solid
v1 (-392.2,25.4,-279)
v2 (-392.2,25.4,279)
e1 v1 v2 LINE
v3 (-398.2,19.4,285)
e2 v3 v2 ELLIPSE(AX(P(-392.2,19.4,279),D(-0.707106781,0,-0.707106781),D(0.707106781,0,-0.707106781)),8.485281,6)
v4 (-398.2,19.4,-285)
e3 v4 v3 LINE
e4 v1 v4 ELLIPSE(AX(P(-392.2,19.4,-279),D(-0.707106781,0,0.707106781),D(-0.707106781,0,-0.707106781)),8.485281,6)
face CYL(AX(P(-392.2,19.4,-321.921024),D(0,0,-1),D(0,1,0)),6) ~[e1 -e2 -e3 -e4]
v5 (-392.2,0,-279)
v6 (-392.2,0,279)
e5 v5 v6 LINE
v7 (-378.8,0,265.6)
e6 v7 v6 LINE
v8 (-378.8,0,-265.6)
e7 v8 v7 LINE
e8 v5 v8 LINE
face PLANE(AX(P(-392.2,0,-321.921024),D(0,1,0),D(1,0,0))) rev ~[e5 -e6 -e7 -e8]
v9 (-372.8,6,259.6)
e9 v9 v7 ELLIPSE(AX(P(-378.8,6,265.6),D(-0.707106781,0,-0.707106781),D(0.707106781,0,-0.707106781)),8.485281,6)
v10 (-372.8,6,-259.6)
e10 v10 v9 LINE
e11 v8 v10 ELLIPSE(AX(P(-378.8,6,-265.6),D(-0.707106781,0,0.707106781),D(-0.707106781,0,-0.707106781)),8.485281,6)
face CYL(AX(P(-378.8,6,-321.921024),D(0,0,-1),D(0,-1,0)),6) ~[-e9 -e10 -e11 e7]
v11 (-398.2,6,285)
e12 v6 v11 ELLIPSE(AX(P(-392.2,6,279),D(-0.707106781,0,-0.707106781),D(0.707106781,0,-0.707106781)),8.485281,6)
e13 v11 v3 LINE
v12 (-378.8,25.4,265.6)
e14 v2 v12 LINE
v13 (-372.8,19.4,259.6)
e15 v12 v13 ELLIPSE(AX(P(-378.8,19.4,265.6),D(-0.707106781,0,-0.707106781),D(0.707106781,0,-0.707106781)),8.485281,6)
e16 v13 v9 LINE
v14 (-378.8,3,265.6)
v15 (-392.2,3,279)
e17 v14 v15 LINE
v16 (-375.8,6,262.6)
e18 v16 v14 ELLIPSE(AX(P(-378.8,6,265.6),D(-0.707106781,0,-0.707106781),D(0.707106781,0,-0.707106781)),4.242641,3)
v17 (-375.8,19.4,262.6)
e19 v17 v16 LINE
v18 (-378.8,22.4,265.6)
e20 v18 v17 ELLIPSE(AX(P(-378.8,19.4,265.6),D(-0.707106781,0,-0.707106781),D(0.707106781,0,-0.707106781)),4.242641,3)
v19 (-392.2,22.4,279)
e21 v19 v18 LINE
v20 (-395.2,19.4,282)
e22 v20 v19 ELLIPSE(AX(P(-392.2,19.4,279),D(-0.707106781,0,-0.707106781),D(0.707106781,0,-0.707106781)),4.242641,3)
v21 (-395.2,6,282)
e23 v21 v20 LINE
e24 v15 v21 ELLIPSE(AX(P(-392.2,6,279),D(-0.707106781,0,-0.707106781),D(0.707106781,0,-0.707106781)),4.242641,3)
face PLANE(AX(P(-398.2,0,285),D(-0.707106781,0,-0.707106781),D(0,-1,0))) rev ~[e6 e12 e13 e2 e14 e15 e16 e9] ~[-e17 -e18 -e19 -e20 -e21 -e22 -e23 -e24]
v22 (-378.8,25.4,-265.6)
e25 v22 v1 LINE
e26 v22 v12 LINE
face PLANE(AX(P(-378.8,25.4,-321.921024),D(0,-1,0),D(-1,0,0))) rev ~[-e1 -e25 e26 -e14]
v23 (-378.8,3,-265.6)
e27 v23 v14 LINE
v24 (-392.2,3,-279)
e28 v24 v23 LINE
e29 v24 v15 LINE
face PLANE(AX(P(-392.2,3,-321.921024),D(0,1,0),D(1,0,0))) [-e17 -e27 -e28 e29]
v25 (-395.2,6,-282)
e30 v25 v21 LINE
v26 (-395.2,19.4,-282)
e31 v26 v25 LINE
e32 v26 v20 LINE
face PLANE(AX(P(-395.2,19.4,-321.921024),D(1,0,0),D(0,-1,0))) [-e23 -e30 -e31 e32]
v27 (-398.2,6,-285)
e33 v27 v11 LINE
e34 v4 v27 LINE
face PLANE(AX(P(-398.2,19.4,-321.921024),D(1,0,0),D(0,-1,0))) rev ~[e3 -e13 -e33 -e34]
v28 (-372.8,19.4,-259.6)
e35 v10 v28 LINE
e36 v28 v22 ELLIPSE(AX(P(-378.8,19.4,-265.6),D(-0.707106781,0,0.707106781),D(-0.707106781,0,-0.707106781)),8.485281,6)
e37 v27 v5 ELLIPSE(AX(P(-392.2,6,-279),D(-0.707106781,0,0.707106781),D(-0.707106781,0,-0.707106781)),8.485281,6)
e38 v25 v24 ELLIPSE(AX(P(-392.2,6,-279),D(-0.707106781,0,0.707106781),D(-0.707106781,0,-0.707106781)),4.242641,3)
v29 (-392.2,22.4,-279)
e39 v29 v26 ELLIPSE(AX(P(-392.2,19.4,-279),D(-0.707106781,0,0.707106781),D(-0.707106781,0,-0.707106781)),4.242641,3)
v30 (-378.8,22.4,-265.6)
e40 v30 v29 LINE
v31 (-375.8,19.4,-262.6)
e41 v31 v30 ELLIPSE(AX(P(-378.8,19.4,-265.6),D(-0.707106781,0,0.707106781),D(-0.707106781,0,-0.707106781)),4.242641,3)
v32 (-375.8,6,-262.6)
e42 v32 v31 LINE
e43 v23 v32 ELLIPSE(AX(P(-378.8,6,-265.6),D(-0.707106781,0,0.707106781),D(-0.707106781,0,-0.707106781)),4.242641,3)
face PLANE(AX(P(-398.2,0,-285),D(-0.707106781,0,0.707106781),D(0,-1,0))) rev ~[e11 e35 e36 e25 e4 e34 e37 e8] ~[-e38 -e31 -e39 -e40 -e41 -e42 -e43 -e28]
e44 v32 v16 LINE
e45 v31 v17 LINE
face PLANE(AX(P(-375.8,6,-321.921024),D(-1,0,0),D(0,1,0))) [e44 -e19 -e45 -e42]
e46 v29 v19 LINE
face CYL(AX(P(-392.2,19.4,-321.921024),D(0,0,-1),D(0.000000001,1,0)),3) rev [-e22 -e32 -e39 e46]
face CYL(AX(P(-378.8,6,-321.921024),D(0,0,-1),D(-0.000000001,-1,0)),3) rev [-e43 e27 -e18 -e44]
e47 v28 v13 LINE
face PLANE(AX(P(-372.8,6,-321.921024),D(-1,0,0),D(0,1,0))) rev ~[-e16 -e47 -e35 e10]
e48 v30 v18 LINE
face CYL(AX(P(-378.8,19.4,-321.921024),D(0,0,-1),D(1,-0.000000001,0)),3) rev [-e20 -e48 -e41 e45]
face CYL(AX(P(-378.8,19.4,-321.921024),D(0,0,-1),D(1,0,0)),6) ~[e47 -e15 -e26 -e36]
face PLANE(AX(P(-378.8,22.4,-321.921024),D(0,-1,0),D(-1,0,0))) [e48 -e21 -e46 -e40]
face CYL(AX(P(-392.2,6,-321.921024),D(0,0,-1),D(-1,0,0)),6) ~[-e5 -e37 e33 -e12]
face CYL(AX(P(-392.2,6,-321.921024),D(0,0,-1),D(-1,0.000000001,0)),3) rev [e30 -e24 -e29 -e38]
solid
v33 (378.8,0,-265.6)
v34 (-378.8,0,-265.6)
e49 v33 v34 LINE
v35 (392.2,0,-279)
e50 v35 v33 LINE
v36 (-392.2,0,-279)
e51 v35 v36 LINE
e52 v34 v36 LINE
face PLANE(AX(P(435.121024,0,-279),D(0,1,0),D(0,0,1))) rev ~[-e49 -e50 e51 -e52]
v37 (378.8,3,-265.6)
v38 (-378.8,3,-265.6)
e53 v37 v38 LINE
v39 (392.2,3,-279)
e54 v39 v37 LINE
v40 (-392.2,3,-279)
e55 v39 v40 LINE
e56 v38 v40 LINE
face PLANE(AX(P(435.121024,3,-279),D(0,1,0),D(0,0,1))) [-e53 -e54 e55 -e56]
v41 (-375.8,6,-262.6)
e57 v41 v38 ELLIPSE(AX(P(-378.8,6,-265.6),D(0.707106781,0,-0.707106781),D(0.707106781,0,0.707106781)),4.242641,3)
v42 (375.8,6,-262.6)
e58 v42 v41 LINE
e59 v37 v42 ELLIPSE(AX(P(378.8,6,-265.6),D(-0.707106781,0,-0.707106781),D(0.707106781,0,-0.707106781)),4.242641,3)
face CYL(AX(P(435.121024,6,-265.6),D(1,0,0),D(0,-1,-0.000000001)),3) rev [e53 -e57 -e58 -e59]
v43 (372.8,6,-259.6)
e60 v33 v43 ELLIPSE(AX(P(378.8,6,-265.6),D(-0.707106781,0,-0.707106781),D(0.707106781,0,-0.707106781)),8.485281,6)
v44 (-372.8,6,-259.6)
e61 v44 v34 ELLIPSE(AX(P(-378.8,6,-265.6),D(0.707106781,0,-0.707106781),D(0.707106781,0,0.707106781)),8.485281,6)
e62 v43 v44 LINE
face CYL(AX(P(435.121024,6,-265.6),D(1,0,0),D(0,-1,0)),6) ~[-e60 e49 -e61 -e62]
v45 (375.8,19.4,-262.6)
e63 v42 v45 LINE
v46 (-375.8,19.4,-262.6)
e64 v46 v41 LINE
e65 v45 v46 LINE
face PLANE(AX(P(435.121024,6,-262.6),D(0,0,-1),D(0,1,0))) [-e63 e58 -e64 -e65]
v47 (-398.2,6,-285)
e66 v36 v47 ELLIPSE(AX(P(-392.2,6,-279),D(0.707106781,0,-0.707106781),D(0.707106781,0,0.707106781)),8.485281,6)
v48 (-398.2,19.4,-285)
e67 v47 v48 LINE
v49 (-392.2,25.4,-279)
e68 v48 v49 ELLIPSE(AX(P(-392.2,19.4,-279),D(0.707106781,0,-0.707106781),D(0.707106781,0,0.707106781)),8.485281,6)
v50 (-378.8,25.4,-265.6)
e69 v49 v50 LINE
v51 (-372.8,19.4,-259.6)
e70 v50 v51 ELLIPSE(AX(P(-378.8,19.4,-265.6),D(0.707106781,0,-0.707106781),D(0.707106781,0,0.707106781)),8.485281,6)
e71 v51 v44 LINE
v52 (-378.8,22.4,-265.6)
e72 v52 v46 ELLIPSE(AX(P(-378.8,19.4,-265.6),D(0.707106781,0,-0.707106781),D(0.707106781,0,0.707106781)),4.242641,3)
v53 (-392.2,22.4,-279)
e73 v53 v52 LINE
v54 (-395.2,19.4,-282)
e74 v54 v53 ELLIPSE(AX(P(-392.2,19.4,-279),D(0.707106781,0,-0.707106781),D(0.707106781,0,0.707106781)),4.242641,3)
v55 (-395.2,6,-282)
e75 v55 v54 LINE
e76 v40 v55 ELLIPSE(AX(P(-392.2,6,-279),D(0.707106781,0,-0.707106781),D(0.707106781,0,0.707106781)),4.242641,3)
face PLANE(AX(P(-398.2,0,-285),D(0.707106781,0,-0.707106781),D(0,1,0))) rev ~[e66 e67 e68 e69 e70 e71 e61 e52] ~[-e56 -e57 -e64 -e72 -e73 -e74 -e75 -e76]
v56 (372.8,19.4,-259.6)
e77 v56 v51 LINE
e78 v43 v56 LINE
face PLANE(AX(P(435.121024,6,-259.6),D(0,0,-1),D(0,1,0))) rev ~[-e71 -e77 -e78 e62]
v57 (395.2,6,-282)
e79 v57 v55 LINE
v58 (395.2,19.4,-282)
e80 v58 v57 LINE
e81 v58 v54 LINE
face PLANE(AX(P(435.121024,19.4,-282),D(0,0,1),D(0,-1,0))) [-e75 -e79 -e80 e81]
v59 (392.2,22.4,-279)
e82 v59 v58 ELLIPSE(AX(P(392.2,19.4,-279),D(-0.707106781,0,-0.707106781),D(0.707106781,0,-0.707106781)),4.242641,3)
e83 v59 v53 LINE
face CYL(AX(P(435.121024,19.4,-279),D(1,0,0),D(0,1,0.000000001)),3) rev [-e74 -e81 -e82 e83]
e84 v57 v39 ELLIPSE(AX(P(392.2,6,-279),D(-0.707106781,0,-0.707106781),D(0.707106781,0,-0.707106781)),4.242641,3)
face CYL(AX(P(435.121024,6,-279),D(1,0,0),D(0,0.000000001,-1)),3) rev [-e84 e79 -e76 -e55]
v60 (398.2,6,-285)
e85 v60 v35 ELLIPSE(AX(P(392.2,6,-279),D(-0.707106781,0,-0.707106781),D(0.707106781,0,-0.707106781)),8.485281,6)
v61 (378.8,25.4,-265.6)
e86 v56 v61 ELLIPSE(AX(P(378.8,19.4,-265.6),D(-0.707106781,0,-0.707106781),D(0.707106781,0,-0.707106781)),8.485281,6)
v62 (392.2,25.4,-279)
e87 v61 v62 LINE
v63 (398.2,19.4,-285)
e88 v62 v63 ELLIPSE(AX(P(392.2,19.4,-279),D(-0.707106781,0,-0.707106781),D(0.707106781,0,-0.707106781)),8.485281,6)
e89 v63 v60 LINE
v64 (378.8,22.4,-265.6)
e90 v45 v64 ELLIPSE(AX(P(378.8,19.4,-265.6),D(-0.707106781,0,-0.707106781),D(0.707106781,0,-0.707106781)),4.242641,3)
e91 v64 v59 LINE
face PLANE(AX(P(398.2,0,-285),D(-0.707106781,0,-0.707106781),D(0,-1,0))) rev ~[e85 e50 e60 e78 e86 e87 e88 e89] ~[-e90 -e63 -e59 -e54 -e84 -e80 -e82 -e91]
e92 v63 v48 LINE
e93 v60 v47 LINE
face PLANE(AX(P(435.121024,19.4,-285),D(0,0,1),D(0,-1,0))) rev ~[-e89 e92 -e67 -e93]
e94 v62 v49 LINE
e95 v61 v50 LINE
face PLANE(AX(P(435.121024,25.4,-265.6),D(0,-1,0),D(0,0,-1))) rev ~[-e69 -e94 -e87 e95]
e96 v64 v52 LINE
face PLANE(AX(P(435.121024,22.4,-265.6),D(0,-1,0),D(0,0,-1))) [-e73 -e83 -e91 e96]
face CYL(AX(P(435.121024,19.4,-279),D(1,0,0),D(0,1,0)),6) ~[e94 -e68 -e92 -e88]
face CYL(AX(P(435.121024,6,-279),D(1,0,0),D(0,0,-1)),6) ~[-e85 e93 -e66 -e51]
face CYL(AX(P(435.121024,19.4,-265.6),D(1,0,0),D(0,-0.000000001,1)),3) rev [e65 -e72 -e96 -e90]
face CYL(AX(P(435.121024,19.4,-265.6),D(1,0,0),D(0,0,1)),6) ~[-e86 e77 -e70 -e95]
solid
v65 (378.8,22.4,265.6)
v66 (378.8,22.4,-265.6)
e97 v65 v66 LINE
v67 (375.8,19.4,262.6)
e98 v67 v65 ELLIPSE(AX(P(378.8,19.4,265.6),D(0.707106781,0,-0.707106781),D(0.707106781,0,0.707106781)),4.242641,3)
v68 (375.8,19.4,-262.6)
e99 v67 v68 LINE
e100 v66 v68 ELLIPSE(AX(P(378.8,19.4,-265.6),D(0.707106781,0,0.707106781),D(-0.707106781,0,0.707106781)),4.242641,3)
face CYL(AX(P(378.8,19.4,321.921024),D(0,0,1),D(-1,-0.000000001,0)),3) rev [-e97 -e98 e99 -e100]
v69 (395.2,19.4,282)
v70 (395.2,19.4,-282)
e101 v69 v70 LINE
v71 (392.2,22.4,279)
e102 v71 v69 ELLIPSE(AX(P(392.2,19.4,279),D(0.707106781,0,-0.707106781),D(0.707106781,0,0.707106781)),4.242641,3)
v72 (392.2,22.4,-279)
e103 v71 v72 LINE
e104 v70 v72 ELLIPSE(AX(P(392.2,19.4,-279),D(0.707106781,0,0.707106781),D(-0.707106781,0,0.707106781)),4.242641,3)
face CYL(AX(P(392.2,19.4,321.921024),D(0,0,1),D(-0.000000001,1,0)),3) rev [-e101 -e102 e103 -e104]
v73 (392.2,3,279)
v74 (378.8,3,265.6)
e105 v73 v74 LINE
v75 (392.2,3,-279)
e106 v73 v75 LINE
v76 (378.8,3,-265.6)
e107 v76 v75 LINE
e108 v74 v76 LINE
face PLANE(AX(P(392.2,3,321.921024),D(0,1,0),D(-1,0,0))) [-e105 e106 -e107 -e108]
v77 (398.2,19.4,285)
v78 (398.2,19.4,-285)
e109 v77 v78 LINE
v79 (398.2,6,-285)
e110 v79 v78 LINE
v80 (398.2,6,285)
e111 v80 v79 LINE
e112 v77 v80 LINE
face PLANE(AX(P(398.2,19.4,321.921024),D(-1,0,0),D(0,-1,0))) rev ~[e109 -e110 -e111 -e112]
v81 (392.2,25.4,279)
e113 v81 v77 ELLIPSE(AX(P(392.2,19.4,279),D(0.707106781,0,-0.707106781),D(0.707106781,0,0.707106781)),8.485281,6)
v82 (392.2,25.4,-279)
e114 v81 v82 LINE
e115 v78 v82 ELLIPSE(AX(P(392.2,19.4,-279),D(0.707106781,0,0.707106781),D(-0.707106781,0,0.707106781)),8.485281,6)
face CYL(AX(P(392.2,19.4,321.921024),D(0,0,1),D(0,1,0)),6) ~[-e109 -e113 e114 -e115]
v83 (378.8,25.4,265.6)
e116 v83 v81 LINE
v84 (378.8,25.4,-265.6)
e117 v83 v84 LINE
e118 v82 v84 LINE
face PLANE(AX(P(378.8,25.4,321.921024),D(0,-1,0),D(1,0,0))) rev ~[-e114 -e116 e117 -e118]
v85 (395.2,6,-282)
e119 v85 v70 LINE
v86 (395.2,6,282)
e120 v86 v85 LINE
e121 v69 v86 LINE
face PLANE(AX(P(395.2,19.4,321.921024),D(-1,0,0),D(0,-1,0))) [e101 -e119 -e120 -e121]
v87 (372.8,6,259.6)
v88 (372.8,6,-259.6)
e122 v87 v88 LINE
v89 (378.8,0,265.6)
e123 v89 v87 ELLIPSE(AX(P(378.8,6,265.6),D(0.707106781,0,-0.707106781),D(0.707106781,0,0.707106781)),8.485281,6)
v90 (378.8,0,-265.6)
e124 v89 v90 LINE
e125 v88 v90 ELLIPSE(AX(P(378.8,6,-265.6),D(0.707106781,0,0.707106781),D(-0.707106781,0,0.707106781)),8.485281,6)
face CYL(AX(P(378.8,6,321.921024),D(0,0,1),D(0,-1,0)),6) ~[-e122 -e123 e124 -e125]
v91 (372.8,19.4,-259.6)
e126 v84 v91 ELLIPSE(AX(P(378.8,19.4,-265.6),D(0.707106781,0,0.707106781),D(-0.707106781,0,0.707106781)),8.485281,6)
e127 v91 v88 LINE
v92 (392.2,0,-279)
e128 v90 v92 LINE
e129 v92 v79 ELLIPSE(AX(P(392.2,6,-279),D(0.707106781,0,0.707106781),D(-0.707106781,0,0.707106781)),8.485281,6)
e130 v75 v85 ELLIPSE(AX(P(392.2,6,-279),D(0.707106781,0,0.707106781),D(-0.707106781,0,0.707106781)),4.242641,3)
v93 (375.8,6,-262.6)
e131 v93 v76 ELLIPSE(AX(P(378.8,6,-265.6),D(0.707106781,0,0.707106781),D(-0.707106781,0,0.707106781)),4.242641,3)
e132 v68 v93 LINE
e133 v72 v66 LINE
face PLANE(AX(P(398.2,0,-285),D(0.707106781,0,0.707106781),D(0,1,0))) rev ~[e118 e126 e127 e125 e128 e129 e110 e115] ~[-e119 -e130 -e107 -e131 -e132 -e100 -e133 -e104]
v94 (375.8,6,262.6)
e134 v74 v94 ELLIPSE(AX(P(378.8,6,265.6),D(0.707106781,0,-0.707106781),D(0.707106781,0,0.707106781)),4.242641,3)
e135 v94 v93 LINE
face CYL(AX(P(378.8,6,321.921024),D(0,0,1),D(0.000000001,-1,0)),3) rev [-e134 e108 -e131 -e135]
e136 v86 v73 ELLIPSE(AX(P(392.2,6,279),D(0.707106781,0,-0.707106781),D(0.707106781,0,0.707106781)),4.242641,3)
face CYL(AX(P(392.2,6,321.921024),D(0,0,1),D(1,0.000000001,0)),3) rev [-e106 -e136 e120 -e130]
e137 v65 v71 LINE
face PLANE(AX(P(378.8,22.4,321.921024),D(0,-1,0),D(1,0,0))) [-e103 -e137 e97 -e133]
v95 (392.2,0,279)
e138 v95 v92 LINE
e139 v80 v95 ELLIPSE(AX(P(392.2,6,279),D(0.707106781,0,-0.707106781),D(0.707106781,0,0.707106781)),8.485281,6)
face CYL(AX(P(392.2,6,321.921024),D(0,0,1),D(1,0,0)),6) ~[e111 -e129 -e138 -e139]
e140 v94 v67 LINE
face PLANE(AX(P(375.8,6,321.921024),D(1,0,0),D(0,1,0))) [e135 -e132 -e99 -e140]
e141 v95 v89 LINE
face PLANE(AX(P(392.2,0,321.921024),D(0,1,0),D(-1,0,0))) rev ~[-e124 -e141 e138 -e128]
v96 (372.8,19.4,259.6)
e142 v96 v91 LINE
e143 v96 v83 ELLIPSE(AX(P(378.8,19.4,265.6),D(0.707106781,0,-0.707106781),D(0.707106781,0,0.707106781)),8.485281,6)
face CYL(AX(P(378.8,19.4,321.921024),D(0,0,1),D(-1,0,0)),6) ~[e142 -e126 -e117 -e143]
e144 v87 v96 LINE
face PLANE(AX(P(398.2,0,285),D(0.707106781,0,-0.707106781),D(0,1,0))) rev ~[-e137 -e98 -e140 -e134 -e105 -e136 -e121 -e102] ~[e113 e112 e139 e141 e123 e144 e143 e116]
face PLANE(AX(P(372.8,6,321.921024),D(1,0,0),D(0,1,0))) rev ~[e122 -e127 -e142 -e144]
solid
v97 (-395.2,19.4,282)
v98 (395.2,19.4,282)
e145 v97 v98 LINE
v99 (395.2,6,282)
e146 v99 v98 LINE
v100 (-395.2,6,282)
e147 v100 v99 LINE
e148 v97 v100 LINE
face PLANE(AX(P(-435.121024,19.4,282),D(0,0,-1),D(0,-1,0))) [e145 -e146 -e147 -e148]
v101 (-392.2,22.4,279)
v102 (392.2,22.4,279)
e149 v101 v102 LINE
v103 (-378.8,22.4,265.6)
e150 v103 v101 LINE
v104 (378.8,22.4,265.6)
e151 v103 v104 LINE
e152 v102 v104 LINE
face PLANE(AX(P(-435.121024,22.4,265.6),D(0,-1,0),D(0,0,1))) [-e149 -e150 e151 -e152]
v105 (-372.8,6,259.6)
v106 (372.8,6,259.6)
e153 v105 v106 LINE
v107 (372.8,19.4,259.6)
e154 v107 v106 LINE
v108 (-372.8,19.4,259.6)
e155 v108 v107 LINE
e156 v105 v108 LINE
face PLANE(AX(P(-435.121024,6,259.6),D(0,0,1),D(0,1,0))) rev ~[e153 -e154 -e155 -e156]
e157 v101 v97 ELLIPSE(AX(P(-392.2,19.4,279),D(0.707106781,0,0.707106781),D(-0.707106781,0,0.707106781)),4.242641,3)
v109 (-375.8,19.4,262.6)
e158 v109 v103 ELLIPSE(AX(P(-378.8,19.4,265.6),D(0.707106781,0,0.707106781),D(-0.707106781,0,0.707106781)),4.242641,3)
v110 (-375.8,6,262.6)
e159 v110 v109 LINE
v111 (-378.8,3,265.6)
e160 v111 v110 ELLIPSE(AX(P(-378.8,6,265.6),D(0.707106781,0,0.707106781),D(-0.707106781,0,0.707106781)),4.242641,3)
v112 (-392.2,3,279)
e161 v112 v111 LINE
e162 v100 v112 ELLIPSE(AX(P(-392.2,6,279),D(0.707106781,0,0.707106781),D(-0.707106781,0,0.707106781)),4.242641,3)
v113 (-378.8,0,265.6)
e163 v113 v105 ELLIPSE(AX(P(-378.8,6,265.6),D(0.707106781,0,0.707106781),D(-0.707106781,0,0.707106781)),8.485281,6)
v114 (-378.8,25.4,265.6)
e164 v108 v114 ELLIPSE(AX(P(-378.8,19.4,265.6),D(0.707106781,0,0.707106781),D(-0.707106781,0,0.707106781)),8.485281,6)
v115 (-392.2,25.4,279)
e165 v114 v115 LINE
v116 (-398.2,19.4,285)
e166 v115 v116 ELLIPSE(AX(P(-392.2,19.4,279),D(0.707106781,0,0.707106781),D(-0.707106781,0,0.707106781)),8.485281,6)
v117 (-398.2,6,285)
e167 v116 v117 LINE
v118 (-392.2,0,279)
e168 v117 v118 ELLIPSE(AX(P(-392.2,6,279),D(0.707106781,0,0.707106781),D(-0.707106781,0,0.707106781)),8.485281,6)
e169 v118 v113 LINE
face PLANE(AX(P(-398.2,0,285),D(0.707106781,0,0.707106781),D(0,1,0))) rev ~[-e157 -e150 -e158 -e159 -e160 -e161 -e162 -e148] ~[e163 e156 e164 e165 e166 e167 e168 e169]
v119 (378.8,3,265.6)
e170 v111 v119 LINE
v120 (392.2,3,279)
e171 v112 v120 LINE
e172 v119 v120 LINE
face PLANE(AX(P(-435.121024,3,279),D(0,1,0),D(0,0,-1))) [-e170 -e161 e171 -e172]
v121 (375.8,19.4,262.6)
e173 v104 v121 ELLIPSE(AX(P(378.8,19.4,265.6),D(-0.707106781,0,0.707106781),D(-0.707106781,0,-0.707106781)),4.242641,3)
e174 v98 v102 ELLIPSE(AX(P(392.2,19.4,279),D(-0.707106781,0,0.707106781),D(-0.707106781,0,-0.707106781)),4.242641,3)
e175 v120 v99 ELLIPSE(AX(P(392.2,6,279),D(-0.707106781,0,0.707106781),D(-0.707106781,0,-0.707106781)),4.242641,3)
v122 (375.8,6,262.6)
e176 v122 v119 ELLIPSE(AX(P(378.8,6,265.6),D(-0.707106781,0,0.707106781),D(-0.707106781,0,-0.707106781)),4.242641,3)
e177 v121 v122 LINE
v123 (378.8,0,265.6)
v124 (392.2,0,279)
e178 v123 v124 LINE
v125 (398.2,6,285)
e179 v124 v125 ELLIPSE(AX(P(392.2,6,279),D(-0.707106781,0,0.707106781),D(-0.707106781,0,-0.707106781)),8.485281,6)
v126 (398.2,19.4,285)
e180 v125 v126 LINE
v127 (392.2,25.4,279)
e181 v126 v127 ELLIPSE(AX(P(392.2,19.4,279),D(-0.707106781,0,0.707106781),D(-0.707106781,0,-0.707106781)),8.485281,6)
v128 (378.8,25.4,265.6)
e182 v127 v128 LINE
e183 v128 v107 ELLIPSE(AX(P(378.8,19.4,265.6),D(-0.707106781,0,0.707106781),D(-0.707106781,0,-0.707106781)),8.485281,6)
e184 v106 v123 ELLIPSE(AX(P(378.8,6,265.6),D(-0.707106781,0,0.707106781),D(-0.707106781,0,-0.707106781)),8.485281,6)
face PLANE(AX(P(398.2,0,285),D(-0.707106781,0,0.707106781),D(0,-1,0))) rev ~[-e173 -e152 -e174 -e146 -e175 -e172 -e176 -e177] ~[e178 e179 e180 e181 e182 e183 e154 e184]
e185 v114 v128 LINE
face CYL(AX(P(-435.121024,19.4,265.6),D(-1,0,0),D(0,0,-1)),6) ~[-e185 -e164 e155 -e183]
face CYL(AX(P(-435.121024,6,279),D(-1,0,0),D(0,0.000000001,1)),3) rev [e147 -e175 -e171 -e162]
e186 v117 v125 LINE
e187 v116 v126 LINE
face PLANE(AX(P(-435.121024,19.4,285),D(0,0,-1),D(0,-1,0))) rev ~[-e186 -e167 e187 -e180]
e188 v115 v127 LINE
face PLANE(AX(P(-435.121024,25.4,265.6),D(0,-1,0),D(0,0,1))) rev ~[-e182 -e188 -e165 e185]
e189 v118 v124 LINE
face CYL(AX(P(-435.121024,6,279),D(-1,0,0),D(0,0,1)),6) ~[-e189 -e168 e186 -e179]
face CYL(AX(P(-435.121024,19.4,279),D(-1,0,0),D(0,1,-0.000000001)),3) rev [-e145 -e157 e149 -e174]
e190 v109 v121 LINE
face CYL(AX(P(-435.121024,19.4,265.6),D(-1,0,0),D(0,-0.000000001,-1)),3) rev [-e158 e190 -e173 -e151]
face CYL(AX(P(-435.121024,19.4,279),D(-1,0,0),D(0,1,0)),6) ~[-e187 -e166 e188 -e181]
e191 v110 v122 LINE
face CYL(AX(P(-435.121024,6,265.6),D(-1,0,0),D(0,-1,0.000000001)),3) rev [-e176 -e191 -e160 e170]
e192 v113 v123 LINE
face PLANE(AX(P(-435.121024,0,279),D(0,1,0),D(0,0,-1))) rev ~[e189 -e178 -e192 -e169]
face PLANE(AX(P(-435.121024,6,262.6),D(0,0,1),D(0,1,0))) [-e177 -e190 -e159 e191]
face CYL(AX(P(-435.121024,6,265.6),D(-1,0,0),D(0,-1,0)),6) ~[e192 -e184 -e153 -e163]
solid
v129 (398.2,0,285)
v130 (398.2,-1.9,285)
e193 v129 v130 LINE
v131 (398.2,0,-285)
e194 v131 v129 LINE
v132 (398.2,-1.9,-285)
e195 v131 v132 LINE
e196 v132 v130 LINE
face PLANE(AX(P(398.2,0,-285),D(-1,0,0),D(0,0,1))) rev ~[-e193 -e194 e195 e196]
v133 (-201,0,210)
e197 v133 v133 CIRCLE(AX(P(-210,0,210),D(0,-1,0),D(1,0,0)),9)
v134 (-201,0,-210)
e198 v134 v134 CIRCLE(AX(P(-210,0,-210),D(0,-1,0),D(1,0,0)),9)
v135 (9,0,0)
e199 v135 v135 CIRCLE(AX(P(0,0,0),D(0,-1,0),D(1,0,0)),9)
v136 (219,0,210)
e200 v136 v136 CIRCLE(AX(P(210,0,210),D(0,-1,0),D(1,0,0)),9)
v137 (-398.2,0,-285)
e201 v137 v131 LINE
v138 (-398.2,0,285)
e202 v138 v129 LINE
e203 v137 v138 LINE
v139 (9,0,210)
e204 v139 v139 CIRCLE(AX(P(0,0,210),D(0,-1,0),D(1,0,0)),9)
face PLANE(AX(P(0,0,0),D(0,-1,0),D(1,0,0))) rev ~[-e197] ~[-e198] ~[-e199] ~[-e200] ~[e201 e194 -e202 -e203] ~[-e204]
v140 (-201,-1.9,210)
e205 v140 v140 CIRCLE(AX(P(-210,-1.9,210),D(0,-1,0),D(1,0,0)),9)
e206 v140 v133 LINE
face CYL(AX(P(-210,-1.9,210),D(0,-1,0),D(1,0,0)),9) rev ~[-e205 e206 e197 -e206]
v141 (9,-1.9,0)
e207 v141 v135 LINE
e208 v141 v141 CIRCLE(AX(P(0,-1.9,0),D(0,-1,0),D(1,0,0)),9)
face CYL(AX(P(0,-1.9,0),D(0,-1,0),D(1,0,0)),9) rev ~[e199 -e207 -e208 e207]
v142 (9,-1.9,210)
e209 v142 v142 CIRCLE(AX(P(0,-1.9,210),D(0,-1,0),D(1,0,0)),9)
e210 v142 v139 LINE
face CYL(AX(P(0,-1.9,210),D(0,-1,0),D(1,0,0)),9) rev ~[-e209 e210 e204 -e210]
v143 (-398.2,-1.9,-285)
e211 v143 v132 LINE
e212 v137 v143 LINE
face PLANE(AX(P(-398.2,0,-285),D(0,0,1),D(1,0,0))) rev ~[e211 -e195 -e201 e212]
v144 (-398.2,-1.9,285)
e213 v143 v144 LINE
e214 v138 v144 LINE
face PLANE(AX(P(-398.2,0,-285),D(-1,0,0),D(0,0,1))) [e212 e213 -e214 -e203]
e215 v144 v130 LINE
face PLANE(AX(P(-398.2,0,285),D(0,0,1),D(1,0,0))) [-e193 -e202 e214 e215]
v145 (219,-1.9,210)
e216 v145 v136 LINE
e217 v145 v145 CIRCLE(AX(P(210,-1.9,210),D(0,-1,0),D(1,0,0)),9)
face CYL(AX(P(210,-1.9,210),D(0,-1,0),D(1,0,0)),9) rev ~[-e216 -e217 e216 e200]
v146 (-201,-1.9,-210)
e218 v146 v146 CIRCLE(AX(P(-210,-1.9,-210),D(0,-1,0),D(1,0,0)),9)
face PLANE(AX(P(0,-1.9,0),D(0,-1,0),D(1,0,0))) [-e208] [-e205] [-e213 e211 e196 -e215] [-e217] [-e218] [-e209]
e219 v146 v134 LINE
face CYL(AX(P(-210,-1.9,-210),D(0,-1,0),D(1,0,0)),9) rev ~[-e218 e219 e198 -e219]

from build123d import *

# Parameters (mm, degrees)
TUBO_CUADRADO_2_X_2_X_0_25_1_DEPTH      = 606.921024484
TUBO_CUADRADO_2_X_2_X_0_25_1_DEPTH_BACK = 36.921024484
TUBO_CUADRADO_2_X_2_X_0_25_1_2_DEPTH    = 870.242048969
TUBO_CUADRADO_2_X_2_X_0_25_1_3_DEPTH    = 643.842048969
TUBO_CUADRADO_2_X_2_X_0_25_1_4_DEPTH    = 870.242048969
CROQUIS3_W                              = 796.4
CROQUIS3_H                              = 570
SALIENTE_EXTRUIR1_DEPTH                 = 1.9
CROQUIS6_R                              = 9
CORTAR_EXTRUIR2_DEPTH                   = 10


with BuildPart() as part:
    # Sketch1 → Tubo cuadrado 2 X 2 X 0.25(1) (new, two sides: drawn at the far end of the back side and taken through both)
    with BuildSketch(Plane(origin=(-385.5, 12.7, -285), x_dir=(1, 0, 0), z_dir=(0, 0, 1)).offset(-TUBO_CUADRADO_2_X_2_X_0_25_1_DEPTH_BACK)):
        with BuildLine():
            Line((-6.7, -12.7), (6.7, -12.7))
            ThreePointArc((6.7, -12.7), (10.942640687, -10.942640687), (12.7, -6.7))
            Line((12.7, -6.7), (12.7, 6.7))
            ThreePointArc((12.7, 6.7), (10.942640687, 10.942640687), (6.7, 12.7))
            Line((6.7, 12.7), (-6.7, 12.7))
            ThreePointArc((-6.7, 12.7), (-10.942640687, 10.942640687), (-12.7, 6.7))
            Line((-12.7, 6.7), (-12.7, -6.7))
            ThreePointArc((-12.7, -6.7), (-10.942640687, -10.942640687), (-6.7, -12.7))
        make_face()
        with BuildLine():
            Line((-6.7, -9.7), (6.7, -9.7))
            ThreePointArc((6.7, -9.7), (8.821320344, -8.821320344), (9.7, -6.7))
            Line((9.7, -6.7), (9.7, 6.7))
            ThreePointArc((9.7, 6.7), (8.821320344, 8.821320344), (6.7, 9.7))
            Line((6.7, 9.7), (-6.7, 9.7))
            ThreePointArc((-6.7, 9.7), (-8.821320344, 8.821320344), (-9.7, 6.7))
            Line((-9.7, 6.7), (-9.7, -6.7))
            ThreePointArc((-9.7, -6.7), (-8.821320344, -8.821320344), (-6.7, -9.7))
        make_face(mode=Mode.SUBTRACT)
    extrude(amount=TUBO_CUADRADO_2_X_2_X_0_25_1_DEPTH + TUBO_CUADRADO_2_X_2_X_0_25_1_DEPTH_BACK)

    # Tubo cuadrado 2 X 2 X 0.25(1) mitre 1
    split(bisect_by=Plane(origin=(-398.2, 0, -285), x_dir=(0, -1, 0), z_dir=(-0.707106781, 0, 0.707106781)), keep=Keep.TOP)

    # Tubo cuadrado 2 X 2 X 0.25(1) mitre 2
    split(bisect_by=Plane(origin=(-398.2, 0, 285), x_dir=(0, -1, 0), z_dir=(-0.707106781, 0, -0.707106781)), keep=Keep.TOP)


with BuildPart() as body_2:
    # Sketch1 on segment 2 (carried to segment 2) → Tubo cuadrado 2 X 2 X 0.25_1 2 (new body)
    with BuildSketch(Plane(origin=(-435.121024484, 12.7, 272.3), x_dir=(0, 0, -1), z_dir=(1, 0, 0))):
        with BuildLine():
            Line((-6.7, -12.7), (6.7, -12.7))
            ThreePointArc((6.7, -12.7), (10.942640687, -10.942640687), (12.7, -6.7))
            Line((12.7, -6.7), (12.7, 6.7))
            ThreePointArc((12.7, 6.7), (10.942640687, 10.942640687), (6.7, 12.7))
            Line((6.7, 12.7), (-6.7, 12.7))
            ThreePointArc((-6.7, 12.7), (-10.942640687, 10.942640687), (-12.7, 6.7))
            Line((-12.7, 6.7), (-12.7, -6.7))
            ThreePointArc((-12.7, -6.7), (-10.942640687, -10.942640687), (-6.7, -12.7))
        make_face()
        with BuildLine():
            Line((-6.7, -9.7), (6.7, -9.7))
            ThreePointArc((6.7, -9.7), (8.821320344, -8.821320344), (9.7, -6.7))
            Line((9.7, -6.7), (9.7, 6.7))
            ThreePointArc((9.7, 6.7), (8.821320344, 8.821320344), (6.7, 9.7))
            Line((6.7, 9.7), (-6.7, 9.7))
            ThreePointArc((-6.7, 9.7), (-8.821320344, 8.821320344), (-9.7, 6.7))
            Line((-9.7, 6.7), (-9.7, -6.7))
            ThreePointArc((-9.7, -6.7), (-8.821320344, -8.821320344), (-6.7, -9.7))
        make_face(mode=Mode.SUBTRACT)
    extrude(amount=TUBO_CUADRADO_2_X_2_X_0_25_1_2_DEPTH)

    # Tubo cuadrado 2 X 2 X 0.25_1 2 mitre 1
    split(bisect_by=Plane(origin=(-398.2, 0, 285), x_dir=(0, 1, 0), z_dir=(0.707106781, 0, 0.707106781)), keep=Keep.TOP)

    # Tubo cuadrado 2 X 2 X 0.25_1 2 mitre 2
    split(bisect_by=Plane(origin=(398.2, 0, 285), x_dir=(0, -1, 0), z_dir=(-0.707106781, 0, 0.707106781)), keep=Keep.TOP)


with BuildPart() as body_3:
    # Sketch1 on segment 3 (carried to segment 3) → Tubo cuadrado 2 X 2 X 0.25_1 3 (new body)
    with BuildSketch(Plane(origin=(385.5, 12.7, 321.921024484), x_dir=(-1, 0, 0), z_dir=(0, 0, -1))):
        with BuildLine():
            Line((-6.7, -12.7), (6.7, -12.7))
            ThreePointArc((6.7, -12.7), (10.942640687, -10.942640687), (12.7, -6.7))
            Line((12.7, -6.7), (12.7, 6.7))
            ThreePointArc((12.7, 6.7), (10.942640687, 10.942640687), (6.7, 12.7))
            Line((6.7, 12.7), (-6.7, 12.7))
            ThreePointArc((-6.7, 12.7), (-10.942640687, 10.942640687), (-12.7, 6.7))
            Line((-12.7, 6.7), (-12.7, -6.7))
            ThreePointArc((-12.7, -6.7), (-10.942640687, -10.942640687), (-6.7, -12.7))
        make_face()
        with BuildLine():
            Line((-6.7, -9.7), (6.7, -9.7))
            ThreePointArc((6.7, -9.7), (8.821320344, -8.821320344), (9.7, -6.7))
            Line((9.7, -6.7), (9.7, 6.7))
            ThreePointArc((9.7, 6.7), (8.821320344, 8.821320344), (6.7, 9.7))
            Line((6.7, 9.7), (-6.7, 9.7))
            ThreePointArc((-6.7, 9.7), (-8.821320344, 8.821320344), (-9.7, 6.7))
            Line((-9.7, 6.7), (-9.7, -6.7))
            ThreePointArc((-9.7, -6.7), (-8.821320344, -8.821320344), (-6.7, -9.7))
        make_face(mode=Mode.SUBTRACT)
    extrude(amount=TUBO_CUADRADO_2_X_2_X_0_25_1_3_DEPTH)

    # Tubo cuadrado 2 X 2 X 0.25_1 3 mitre 1
    split(bisect_by=Plane(origin=(398.2, 0, -285), x_dir=(0, 1, 0), z_dir=(0.707106781, 0, 0.707106781)), keep=Keep.TOP)

    # Tubo cuadrado 2 X 2 X 0.25_1 3 mitre 2
    split(bisect_by=Plane(origin=(398.2, 0, 285), x_dir=(0, 1, 0), z_dir=(0.707106781, 0, -0.707106781)), keep=Keep.TOP)


with BuildPart() as body_4:
    # Sketch1 on segment 4 (carried to segment 4) → Tubo cuadrado 2 X 2 X 0.25_1 4 (new body)
    with BuildSketch(Plane(origin=(435.121024484, 12.7, -272.3), x_dir=(0, 0, 1), z_dir=(-1, 0, 0))):
        with BuildLine():
            Line((-6.7, -12.7), (6.7, -12.7))
            ThreePointArc((6.7, -12.7), (10.942640687, -10.942640687), (12.7, -6.7))
            Line((12.7, -6.7), (12.7, 6.7))
            ThreePointArc((12.7, 6.7), (10.942640687, 10.942640687), (6.7, 12.7))
            Line((6.7, 12.7), (-6.7, 12.7))
            ThreePointArc((-6.7, 12.7), (-10.942640687, 10.942640687), (-12.7, 6.7))
            Line((-12.7, 6.7), (-12.7, -6.7))
            ThreePointArc((-12.7, -6.7), (-10.942640687, -10.942640687), (-6.7, -12.7))
        make_face()
        with BuildLine():
            Line((-6.7, -9.7), (6.7, -9.7))
            ThreePointArc((6.7, -9.7), (8.821320344, -8.821320344), (9.7, -6.7))
            Line((9.7, -6.7), (9.7, 6.7))
            ThreePointArc((9.7, 6.7), (8.821320344, 8.821320344), (6.7, 9.7))
            Line((6.7, 9.7), (-6.7, 9.7))
            ThreePointArc((-6.7, 9.7), (-8.821320344, 8.821320344), (-9.7, 6.7))
            Line((-9.7, 6.7), (-9.7, -6.7))
            ThreePointArc((-9.7, -6.7), (-8.821320344, -8.821320344), (-6.7, -9.7))
        make_face(mode=Mode.SUBTRACT)
    extrude(amount=TUBO_CUADRADO_2_X_2_X_0_25_1_4_DEPTH)

    # Tubo cuadrado 2 X 2 X 0.25_1 4 mitre 1
    split(bisect_by=Plane(origin=(-398.2, 0, -285), x_dir=(0, 1, 0), z_dir=(0.707106781, 0, -0.707106781)), keep=Keep.TOP)

    # Tubo cuadrado 2 X 2 X 0.25_1 4 mitre 2
    split(bisect_by=Plane(origin=(398.2, 0, -285), x_dir=(0, -1, 0), z_dir=(-0.707106781, 0, -0.707106781)), keep=Keep.TOP)


with BuildPart() as body_5:
    # Croquis3 → Saliente-Extruir1 (new body)
    with BuildSketch(Plane.XZ):
        Rectangle(CROQUIS3_W, CROQUIS3_H)
    extrude(amount=SALIENTE_EXTRUIR1_DEPTH)

    # Croquis6 → Cortar-Extruir2 (cut)
    with BuildSketch(Plane.XZ.offset(1.9)):
        Circle(CROQUIS6_R)
        with Locations((210, 210)):
            Circle(CROQUIS6_R)
        with Locations((0, 210)):
            Circle(CROQUIS6_R)
        with Locations((-210, 210)):
            Circle(CROQUIS6_R)
        with Locations((-210, -210)):
            Circle(CROQUIS6_R)
    extrude(amount=-CORTAR_EXTRUIR2_DEPTH, mode=Mode.SUBTRACT)


solid = Compound([part.part, body_2.part, body_3.part, body_4.part, body_5.part])
